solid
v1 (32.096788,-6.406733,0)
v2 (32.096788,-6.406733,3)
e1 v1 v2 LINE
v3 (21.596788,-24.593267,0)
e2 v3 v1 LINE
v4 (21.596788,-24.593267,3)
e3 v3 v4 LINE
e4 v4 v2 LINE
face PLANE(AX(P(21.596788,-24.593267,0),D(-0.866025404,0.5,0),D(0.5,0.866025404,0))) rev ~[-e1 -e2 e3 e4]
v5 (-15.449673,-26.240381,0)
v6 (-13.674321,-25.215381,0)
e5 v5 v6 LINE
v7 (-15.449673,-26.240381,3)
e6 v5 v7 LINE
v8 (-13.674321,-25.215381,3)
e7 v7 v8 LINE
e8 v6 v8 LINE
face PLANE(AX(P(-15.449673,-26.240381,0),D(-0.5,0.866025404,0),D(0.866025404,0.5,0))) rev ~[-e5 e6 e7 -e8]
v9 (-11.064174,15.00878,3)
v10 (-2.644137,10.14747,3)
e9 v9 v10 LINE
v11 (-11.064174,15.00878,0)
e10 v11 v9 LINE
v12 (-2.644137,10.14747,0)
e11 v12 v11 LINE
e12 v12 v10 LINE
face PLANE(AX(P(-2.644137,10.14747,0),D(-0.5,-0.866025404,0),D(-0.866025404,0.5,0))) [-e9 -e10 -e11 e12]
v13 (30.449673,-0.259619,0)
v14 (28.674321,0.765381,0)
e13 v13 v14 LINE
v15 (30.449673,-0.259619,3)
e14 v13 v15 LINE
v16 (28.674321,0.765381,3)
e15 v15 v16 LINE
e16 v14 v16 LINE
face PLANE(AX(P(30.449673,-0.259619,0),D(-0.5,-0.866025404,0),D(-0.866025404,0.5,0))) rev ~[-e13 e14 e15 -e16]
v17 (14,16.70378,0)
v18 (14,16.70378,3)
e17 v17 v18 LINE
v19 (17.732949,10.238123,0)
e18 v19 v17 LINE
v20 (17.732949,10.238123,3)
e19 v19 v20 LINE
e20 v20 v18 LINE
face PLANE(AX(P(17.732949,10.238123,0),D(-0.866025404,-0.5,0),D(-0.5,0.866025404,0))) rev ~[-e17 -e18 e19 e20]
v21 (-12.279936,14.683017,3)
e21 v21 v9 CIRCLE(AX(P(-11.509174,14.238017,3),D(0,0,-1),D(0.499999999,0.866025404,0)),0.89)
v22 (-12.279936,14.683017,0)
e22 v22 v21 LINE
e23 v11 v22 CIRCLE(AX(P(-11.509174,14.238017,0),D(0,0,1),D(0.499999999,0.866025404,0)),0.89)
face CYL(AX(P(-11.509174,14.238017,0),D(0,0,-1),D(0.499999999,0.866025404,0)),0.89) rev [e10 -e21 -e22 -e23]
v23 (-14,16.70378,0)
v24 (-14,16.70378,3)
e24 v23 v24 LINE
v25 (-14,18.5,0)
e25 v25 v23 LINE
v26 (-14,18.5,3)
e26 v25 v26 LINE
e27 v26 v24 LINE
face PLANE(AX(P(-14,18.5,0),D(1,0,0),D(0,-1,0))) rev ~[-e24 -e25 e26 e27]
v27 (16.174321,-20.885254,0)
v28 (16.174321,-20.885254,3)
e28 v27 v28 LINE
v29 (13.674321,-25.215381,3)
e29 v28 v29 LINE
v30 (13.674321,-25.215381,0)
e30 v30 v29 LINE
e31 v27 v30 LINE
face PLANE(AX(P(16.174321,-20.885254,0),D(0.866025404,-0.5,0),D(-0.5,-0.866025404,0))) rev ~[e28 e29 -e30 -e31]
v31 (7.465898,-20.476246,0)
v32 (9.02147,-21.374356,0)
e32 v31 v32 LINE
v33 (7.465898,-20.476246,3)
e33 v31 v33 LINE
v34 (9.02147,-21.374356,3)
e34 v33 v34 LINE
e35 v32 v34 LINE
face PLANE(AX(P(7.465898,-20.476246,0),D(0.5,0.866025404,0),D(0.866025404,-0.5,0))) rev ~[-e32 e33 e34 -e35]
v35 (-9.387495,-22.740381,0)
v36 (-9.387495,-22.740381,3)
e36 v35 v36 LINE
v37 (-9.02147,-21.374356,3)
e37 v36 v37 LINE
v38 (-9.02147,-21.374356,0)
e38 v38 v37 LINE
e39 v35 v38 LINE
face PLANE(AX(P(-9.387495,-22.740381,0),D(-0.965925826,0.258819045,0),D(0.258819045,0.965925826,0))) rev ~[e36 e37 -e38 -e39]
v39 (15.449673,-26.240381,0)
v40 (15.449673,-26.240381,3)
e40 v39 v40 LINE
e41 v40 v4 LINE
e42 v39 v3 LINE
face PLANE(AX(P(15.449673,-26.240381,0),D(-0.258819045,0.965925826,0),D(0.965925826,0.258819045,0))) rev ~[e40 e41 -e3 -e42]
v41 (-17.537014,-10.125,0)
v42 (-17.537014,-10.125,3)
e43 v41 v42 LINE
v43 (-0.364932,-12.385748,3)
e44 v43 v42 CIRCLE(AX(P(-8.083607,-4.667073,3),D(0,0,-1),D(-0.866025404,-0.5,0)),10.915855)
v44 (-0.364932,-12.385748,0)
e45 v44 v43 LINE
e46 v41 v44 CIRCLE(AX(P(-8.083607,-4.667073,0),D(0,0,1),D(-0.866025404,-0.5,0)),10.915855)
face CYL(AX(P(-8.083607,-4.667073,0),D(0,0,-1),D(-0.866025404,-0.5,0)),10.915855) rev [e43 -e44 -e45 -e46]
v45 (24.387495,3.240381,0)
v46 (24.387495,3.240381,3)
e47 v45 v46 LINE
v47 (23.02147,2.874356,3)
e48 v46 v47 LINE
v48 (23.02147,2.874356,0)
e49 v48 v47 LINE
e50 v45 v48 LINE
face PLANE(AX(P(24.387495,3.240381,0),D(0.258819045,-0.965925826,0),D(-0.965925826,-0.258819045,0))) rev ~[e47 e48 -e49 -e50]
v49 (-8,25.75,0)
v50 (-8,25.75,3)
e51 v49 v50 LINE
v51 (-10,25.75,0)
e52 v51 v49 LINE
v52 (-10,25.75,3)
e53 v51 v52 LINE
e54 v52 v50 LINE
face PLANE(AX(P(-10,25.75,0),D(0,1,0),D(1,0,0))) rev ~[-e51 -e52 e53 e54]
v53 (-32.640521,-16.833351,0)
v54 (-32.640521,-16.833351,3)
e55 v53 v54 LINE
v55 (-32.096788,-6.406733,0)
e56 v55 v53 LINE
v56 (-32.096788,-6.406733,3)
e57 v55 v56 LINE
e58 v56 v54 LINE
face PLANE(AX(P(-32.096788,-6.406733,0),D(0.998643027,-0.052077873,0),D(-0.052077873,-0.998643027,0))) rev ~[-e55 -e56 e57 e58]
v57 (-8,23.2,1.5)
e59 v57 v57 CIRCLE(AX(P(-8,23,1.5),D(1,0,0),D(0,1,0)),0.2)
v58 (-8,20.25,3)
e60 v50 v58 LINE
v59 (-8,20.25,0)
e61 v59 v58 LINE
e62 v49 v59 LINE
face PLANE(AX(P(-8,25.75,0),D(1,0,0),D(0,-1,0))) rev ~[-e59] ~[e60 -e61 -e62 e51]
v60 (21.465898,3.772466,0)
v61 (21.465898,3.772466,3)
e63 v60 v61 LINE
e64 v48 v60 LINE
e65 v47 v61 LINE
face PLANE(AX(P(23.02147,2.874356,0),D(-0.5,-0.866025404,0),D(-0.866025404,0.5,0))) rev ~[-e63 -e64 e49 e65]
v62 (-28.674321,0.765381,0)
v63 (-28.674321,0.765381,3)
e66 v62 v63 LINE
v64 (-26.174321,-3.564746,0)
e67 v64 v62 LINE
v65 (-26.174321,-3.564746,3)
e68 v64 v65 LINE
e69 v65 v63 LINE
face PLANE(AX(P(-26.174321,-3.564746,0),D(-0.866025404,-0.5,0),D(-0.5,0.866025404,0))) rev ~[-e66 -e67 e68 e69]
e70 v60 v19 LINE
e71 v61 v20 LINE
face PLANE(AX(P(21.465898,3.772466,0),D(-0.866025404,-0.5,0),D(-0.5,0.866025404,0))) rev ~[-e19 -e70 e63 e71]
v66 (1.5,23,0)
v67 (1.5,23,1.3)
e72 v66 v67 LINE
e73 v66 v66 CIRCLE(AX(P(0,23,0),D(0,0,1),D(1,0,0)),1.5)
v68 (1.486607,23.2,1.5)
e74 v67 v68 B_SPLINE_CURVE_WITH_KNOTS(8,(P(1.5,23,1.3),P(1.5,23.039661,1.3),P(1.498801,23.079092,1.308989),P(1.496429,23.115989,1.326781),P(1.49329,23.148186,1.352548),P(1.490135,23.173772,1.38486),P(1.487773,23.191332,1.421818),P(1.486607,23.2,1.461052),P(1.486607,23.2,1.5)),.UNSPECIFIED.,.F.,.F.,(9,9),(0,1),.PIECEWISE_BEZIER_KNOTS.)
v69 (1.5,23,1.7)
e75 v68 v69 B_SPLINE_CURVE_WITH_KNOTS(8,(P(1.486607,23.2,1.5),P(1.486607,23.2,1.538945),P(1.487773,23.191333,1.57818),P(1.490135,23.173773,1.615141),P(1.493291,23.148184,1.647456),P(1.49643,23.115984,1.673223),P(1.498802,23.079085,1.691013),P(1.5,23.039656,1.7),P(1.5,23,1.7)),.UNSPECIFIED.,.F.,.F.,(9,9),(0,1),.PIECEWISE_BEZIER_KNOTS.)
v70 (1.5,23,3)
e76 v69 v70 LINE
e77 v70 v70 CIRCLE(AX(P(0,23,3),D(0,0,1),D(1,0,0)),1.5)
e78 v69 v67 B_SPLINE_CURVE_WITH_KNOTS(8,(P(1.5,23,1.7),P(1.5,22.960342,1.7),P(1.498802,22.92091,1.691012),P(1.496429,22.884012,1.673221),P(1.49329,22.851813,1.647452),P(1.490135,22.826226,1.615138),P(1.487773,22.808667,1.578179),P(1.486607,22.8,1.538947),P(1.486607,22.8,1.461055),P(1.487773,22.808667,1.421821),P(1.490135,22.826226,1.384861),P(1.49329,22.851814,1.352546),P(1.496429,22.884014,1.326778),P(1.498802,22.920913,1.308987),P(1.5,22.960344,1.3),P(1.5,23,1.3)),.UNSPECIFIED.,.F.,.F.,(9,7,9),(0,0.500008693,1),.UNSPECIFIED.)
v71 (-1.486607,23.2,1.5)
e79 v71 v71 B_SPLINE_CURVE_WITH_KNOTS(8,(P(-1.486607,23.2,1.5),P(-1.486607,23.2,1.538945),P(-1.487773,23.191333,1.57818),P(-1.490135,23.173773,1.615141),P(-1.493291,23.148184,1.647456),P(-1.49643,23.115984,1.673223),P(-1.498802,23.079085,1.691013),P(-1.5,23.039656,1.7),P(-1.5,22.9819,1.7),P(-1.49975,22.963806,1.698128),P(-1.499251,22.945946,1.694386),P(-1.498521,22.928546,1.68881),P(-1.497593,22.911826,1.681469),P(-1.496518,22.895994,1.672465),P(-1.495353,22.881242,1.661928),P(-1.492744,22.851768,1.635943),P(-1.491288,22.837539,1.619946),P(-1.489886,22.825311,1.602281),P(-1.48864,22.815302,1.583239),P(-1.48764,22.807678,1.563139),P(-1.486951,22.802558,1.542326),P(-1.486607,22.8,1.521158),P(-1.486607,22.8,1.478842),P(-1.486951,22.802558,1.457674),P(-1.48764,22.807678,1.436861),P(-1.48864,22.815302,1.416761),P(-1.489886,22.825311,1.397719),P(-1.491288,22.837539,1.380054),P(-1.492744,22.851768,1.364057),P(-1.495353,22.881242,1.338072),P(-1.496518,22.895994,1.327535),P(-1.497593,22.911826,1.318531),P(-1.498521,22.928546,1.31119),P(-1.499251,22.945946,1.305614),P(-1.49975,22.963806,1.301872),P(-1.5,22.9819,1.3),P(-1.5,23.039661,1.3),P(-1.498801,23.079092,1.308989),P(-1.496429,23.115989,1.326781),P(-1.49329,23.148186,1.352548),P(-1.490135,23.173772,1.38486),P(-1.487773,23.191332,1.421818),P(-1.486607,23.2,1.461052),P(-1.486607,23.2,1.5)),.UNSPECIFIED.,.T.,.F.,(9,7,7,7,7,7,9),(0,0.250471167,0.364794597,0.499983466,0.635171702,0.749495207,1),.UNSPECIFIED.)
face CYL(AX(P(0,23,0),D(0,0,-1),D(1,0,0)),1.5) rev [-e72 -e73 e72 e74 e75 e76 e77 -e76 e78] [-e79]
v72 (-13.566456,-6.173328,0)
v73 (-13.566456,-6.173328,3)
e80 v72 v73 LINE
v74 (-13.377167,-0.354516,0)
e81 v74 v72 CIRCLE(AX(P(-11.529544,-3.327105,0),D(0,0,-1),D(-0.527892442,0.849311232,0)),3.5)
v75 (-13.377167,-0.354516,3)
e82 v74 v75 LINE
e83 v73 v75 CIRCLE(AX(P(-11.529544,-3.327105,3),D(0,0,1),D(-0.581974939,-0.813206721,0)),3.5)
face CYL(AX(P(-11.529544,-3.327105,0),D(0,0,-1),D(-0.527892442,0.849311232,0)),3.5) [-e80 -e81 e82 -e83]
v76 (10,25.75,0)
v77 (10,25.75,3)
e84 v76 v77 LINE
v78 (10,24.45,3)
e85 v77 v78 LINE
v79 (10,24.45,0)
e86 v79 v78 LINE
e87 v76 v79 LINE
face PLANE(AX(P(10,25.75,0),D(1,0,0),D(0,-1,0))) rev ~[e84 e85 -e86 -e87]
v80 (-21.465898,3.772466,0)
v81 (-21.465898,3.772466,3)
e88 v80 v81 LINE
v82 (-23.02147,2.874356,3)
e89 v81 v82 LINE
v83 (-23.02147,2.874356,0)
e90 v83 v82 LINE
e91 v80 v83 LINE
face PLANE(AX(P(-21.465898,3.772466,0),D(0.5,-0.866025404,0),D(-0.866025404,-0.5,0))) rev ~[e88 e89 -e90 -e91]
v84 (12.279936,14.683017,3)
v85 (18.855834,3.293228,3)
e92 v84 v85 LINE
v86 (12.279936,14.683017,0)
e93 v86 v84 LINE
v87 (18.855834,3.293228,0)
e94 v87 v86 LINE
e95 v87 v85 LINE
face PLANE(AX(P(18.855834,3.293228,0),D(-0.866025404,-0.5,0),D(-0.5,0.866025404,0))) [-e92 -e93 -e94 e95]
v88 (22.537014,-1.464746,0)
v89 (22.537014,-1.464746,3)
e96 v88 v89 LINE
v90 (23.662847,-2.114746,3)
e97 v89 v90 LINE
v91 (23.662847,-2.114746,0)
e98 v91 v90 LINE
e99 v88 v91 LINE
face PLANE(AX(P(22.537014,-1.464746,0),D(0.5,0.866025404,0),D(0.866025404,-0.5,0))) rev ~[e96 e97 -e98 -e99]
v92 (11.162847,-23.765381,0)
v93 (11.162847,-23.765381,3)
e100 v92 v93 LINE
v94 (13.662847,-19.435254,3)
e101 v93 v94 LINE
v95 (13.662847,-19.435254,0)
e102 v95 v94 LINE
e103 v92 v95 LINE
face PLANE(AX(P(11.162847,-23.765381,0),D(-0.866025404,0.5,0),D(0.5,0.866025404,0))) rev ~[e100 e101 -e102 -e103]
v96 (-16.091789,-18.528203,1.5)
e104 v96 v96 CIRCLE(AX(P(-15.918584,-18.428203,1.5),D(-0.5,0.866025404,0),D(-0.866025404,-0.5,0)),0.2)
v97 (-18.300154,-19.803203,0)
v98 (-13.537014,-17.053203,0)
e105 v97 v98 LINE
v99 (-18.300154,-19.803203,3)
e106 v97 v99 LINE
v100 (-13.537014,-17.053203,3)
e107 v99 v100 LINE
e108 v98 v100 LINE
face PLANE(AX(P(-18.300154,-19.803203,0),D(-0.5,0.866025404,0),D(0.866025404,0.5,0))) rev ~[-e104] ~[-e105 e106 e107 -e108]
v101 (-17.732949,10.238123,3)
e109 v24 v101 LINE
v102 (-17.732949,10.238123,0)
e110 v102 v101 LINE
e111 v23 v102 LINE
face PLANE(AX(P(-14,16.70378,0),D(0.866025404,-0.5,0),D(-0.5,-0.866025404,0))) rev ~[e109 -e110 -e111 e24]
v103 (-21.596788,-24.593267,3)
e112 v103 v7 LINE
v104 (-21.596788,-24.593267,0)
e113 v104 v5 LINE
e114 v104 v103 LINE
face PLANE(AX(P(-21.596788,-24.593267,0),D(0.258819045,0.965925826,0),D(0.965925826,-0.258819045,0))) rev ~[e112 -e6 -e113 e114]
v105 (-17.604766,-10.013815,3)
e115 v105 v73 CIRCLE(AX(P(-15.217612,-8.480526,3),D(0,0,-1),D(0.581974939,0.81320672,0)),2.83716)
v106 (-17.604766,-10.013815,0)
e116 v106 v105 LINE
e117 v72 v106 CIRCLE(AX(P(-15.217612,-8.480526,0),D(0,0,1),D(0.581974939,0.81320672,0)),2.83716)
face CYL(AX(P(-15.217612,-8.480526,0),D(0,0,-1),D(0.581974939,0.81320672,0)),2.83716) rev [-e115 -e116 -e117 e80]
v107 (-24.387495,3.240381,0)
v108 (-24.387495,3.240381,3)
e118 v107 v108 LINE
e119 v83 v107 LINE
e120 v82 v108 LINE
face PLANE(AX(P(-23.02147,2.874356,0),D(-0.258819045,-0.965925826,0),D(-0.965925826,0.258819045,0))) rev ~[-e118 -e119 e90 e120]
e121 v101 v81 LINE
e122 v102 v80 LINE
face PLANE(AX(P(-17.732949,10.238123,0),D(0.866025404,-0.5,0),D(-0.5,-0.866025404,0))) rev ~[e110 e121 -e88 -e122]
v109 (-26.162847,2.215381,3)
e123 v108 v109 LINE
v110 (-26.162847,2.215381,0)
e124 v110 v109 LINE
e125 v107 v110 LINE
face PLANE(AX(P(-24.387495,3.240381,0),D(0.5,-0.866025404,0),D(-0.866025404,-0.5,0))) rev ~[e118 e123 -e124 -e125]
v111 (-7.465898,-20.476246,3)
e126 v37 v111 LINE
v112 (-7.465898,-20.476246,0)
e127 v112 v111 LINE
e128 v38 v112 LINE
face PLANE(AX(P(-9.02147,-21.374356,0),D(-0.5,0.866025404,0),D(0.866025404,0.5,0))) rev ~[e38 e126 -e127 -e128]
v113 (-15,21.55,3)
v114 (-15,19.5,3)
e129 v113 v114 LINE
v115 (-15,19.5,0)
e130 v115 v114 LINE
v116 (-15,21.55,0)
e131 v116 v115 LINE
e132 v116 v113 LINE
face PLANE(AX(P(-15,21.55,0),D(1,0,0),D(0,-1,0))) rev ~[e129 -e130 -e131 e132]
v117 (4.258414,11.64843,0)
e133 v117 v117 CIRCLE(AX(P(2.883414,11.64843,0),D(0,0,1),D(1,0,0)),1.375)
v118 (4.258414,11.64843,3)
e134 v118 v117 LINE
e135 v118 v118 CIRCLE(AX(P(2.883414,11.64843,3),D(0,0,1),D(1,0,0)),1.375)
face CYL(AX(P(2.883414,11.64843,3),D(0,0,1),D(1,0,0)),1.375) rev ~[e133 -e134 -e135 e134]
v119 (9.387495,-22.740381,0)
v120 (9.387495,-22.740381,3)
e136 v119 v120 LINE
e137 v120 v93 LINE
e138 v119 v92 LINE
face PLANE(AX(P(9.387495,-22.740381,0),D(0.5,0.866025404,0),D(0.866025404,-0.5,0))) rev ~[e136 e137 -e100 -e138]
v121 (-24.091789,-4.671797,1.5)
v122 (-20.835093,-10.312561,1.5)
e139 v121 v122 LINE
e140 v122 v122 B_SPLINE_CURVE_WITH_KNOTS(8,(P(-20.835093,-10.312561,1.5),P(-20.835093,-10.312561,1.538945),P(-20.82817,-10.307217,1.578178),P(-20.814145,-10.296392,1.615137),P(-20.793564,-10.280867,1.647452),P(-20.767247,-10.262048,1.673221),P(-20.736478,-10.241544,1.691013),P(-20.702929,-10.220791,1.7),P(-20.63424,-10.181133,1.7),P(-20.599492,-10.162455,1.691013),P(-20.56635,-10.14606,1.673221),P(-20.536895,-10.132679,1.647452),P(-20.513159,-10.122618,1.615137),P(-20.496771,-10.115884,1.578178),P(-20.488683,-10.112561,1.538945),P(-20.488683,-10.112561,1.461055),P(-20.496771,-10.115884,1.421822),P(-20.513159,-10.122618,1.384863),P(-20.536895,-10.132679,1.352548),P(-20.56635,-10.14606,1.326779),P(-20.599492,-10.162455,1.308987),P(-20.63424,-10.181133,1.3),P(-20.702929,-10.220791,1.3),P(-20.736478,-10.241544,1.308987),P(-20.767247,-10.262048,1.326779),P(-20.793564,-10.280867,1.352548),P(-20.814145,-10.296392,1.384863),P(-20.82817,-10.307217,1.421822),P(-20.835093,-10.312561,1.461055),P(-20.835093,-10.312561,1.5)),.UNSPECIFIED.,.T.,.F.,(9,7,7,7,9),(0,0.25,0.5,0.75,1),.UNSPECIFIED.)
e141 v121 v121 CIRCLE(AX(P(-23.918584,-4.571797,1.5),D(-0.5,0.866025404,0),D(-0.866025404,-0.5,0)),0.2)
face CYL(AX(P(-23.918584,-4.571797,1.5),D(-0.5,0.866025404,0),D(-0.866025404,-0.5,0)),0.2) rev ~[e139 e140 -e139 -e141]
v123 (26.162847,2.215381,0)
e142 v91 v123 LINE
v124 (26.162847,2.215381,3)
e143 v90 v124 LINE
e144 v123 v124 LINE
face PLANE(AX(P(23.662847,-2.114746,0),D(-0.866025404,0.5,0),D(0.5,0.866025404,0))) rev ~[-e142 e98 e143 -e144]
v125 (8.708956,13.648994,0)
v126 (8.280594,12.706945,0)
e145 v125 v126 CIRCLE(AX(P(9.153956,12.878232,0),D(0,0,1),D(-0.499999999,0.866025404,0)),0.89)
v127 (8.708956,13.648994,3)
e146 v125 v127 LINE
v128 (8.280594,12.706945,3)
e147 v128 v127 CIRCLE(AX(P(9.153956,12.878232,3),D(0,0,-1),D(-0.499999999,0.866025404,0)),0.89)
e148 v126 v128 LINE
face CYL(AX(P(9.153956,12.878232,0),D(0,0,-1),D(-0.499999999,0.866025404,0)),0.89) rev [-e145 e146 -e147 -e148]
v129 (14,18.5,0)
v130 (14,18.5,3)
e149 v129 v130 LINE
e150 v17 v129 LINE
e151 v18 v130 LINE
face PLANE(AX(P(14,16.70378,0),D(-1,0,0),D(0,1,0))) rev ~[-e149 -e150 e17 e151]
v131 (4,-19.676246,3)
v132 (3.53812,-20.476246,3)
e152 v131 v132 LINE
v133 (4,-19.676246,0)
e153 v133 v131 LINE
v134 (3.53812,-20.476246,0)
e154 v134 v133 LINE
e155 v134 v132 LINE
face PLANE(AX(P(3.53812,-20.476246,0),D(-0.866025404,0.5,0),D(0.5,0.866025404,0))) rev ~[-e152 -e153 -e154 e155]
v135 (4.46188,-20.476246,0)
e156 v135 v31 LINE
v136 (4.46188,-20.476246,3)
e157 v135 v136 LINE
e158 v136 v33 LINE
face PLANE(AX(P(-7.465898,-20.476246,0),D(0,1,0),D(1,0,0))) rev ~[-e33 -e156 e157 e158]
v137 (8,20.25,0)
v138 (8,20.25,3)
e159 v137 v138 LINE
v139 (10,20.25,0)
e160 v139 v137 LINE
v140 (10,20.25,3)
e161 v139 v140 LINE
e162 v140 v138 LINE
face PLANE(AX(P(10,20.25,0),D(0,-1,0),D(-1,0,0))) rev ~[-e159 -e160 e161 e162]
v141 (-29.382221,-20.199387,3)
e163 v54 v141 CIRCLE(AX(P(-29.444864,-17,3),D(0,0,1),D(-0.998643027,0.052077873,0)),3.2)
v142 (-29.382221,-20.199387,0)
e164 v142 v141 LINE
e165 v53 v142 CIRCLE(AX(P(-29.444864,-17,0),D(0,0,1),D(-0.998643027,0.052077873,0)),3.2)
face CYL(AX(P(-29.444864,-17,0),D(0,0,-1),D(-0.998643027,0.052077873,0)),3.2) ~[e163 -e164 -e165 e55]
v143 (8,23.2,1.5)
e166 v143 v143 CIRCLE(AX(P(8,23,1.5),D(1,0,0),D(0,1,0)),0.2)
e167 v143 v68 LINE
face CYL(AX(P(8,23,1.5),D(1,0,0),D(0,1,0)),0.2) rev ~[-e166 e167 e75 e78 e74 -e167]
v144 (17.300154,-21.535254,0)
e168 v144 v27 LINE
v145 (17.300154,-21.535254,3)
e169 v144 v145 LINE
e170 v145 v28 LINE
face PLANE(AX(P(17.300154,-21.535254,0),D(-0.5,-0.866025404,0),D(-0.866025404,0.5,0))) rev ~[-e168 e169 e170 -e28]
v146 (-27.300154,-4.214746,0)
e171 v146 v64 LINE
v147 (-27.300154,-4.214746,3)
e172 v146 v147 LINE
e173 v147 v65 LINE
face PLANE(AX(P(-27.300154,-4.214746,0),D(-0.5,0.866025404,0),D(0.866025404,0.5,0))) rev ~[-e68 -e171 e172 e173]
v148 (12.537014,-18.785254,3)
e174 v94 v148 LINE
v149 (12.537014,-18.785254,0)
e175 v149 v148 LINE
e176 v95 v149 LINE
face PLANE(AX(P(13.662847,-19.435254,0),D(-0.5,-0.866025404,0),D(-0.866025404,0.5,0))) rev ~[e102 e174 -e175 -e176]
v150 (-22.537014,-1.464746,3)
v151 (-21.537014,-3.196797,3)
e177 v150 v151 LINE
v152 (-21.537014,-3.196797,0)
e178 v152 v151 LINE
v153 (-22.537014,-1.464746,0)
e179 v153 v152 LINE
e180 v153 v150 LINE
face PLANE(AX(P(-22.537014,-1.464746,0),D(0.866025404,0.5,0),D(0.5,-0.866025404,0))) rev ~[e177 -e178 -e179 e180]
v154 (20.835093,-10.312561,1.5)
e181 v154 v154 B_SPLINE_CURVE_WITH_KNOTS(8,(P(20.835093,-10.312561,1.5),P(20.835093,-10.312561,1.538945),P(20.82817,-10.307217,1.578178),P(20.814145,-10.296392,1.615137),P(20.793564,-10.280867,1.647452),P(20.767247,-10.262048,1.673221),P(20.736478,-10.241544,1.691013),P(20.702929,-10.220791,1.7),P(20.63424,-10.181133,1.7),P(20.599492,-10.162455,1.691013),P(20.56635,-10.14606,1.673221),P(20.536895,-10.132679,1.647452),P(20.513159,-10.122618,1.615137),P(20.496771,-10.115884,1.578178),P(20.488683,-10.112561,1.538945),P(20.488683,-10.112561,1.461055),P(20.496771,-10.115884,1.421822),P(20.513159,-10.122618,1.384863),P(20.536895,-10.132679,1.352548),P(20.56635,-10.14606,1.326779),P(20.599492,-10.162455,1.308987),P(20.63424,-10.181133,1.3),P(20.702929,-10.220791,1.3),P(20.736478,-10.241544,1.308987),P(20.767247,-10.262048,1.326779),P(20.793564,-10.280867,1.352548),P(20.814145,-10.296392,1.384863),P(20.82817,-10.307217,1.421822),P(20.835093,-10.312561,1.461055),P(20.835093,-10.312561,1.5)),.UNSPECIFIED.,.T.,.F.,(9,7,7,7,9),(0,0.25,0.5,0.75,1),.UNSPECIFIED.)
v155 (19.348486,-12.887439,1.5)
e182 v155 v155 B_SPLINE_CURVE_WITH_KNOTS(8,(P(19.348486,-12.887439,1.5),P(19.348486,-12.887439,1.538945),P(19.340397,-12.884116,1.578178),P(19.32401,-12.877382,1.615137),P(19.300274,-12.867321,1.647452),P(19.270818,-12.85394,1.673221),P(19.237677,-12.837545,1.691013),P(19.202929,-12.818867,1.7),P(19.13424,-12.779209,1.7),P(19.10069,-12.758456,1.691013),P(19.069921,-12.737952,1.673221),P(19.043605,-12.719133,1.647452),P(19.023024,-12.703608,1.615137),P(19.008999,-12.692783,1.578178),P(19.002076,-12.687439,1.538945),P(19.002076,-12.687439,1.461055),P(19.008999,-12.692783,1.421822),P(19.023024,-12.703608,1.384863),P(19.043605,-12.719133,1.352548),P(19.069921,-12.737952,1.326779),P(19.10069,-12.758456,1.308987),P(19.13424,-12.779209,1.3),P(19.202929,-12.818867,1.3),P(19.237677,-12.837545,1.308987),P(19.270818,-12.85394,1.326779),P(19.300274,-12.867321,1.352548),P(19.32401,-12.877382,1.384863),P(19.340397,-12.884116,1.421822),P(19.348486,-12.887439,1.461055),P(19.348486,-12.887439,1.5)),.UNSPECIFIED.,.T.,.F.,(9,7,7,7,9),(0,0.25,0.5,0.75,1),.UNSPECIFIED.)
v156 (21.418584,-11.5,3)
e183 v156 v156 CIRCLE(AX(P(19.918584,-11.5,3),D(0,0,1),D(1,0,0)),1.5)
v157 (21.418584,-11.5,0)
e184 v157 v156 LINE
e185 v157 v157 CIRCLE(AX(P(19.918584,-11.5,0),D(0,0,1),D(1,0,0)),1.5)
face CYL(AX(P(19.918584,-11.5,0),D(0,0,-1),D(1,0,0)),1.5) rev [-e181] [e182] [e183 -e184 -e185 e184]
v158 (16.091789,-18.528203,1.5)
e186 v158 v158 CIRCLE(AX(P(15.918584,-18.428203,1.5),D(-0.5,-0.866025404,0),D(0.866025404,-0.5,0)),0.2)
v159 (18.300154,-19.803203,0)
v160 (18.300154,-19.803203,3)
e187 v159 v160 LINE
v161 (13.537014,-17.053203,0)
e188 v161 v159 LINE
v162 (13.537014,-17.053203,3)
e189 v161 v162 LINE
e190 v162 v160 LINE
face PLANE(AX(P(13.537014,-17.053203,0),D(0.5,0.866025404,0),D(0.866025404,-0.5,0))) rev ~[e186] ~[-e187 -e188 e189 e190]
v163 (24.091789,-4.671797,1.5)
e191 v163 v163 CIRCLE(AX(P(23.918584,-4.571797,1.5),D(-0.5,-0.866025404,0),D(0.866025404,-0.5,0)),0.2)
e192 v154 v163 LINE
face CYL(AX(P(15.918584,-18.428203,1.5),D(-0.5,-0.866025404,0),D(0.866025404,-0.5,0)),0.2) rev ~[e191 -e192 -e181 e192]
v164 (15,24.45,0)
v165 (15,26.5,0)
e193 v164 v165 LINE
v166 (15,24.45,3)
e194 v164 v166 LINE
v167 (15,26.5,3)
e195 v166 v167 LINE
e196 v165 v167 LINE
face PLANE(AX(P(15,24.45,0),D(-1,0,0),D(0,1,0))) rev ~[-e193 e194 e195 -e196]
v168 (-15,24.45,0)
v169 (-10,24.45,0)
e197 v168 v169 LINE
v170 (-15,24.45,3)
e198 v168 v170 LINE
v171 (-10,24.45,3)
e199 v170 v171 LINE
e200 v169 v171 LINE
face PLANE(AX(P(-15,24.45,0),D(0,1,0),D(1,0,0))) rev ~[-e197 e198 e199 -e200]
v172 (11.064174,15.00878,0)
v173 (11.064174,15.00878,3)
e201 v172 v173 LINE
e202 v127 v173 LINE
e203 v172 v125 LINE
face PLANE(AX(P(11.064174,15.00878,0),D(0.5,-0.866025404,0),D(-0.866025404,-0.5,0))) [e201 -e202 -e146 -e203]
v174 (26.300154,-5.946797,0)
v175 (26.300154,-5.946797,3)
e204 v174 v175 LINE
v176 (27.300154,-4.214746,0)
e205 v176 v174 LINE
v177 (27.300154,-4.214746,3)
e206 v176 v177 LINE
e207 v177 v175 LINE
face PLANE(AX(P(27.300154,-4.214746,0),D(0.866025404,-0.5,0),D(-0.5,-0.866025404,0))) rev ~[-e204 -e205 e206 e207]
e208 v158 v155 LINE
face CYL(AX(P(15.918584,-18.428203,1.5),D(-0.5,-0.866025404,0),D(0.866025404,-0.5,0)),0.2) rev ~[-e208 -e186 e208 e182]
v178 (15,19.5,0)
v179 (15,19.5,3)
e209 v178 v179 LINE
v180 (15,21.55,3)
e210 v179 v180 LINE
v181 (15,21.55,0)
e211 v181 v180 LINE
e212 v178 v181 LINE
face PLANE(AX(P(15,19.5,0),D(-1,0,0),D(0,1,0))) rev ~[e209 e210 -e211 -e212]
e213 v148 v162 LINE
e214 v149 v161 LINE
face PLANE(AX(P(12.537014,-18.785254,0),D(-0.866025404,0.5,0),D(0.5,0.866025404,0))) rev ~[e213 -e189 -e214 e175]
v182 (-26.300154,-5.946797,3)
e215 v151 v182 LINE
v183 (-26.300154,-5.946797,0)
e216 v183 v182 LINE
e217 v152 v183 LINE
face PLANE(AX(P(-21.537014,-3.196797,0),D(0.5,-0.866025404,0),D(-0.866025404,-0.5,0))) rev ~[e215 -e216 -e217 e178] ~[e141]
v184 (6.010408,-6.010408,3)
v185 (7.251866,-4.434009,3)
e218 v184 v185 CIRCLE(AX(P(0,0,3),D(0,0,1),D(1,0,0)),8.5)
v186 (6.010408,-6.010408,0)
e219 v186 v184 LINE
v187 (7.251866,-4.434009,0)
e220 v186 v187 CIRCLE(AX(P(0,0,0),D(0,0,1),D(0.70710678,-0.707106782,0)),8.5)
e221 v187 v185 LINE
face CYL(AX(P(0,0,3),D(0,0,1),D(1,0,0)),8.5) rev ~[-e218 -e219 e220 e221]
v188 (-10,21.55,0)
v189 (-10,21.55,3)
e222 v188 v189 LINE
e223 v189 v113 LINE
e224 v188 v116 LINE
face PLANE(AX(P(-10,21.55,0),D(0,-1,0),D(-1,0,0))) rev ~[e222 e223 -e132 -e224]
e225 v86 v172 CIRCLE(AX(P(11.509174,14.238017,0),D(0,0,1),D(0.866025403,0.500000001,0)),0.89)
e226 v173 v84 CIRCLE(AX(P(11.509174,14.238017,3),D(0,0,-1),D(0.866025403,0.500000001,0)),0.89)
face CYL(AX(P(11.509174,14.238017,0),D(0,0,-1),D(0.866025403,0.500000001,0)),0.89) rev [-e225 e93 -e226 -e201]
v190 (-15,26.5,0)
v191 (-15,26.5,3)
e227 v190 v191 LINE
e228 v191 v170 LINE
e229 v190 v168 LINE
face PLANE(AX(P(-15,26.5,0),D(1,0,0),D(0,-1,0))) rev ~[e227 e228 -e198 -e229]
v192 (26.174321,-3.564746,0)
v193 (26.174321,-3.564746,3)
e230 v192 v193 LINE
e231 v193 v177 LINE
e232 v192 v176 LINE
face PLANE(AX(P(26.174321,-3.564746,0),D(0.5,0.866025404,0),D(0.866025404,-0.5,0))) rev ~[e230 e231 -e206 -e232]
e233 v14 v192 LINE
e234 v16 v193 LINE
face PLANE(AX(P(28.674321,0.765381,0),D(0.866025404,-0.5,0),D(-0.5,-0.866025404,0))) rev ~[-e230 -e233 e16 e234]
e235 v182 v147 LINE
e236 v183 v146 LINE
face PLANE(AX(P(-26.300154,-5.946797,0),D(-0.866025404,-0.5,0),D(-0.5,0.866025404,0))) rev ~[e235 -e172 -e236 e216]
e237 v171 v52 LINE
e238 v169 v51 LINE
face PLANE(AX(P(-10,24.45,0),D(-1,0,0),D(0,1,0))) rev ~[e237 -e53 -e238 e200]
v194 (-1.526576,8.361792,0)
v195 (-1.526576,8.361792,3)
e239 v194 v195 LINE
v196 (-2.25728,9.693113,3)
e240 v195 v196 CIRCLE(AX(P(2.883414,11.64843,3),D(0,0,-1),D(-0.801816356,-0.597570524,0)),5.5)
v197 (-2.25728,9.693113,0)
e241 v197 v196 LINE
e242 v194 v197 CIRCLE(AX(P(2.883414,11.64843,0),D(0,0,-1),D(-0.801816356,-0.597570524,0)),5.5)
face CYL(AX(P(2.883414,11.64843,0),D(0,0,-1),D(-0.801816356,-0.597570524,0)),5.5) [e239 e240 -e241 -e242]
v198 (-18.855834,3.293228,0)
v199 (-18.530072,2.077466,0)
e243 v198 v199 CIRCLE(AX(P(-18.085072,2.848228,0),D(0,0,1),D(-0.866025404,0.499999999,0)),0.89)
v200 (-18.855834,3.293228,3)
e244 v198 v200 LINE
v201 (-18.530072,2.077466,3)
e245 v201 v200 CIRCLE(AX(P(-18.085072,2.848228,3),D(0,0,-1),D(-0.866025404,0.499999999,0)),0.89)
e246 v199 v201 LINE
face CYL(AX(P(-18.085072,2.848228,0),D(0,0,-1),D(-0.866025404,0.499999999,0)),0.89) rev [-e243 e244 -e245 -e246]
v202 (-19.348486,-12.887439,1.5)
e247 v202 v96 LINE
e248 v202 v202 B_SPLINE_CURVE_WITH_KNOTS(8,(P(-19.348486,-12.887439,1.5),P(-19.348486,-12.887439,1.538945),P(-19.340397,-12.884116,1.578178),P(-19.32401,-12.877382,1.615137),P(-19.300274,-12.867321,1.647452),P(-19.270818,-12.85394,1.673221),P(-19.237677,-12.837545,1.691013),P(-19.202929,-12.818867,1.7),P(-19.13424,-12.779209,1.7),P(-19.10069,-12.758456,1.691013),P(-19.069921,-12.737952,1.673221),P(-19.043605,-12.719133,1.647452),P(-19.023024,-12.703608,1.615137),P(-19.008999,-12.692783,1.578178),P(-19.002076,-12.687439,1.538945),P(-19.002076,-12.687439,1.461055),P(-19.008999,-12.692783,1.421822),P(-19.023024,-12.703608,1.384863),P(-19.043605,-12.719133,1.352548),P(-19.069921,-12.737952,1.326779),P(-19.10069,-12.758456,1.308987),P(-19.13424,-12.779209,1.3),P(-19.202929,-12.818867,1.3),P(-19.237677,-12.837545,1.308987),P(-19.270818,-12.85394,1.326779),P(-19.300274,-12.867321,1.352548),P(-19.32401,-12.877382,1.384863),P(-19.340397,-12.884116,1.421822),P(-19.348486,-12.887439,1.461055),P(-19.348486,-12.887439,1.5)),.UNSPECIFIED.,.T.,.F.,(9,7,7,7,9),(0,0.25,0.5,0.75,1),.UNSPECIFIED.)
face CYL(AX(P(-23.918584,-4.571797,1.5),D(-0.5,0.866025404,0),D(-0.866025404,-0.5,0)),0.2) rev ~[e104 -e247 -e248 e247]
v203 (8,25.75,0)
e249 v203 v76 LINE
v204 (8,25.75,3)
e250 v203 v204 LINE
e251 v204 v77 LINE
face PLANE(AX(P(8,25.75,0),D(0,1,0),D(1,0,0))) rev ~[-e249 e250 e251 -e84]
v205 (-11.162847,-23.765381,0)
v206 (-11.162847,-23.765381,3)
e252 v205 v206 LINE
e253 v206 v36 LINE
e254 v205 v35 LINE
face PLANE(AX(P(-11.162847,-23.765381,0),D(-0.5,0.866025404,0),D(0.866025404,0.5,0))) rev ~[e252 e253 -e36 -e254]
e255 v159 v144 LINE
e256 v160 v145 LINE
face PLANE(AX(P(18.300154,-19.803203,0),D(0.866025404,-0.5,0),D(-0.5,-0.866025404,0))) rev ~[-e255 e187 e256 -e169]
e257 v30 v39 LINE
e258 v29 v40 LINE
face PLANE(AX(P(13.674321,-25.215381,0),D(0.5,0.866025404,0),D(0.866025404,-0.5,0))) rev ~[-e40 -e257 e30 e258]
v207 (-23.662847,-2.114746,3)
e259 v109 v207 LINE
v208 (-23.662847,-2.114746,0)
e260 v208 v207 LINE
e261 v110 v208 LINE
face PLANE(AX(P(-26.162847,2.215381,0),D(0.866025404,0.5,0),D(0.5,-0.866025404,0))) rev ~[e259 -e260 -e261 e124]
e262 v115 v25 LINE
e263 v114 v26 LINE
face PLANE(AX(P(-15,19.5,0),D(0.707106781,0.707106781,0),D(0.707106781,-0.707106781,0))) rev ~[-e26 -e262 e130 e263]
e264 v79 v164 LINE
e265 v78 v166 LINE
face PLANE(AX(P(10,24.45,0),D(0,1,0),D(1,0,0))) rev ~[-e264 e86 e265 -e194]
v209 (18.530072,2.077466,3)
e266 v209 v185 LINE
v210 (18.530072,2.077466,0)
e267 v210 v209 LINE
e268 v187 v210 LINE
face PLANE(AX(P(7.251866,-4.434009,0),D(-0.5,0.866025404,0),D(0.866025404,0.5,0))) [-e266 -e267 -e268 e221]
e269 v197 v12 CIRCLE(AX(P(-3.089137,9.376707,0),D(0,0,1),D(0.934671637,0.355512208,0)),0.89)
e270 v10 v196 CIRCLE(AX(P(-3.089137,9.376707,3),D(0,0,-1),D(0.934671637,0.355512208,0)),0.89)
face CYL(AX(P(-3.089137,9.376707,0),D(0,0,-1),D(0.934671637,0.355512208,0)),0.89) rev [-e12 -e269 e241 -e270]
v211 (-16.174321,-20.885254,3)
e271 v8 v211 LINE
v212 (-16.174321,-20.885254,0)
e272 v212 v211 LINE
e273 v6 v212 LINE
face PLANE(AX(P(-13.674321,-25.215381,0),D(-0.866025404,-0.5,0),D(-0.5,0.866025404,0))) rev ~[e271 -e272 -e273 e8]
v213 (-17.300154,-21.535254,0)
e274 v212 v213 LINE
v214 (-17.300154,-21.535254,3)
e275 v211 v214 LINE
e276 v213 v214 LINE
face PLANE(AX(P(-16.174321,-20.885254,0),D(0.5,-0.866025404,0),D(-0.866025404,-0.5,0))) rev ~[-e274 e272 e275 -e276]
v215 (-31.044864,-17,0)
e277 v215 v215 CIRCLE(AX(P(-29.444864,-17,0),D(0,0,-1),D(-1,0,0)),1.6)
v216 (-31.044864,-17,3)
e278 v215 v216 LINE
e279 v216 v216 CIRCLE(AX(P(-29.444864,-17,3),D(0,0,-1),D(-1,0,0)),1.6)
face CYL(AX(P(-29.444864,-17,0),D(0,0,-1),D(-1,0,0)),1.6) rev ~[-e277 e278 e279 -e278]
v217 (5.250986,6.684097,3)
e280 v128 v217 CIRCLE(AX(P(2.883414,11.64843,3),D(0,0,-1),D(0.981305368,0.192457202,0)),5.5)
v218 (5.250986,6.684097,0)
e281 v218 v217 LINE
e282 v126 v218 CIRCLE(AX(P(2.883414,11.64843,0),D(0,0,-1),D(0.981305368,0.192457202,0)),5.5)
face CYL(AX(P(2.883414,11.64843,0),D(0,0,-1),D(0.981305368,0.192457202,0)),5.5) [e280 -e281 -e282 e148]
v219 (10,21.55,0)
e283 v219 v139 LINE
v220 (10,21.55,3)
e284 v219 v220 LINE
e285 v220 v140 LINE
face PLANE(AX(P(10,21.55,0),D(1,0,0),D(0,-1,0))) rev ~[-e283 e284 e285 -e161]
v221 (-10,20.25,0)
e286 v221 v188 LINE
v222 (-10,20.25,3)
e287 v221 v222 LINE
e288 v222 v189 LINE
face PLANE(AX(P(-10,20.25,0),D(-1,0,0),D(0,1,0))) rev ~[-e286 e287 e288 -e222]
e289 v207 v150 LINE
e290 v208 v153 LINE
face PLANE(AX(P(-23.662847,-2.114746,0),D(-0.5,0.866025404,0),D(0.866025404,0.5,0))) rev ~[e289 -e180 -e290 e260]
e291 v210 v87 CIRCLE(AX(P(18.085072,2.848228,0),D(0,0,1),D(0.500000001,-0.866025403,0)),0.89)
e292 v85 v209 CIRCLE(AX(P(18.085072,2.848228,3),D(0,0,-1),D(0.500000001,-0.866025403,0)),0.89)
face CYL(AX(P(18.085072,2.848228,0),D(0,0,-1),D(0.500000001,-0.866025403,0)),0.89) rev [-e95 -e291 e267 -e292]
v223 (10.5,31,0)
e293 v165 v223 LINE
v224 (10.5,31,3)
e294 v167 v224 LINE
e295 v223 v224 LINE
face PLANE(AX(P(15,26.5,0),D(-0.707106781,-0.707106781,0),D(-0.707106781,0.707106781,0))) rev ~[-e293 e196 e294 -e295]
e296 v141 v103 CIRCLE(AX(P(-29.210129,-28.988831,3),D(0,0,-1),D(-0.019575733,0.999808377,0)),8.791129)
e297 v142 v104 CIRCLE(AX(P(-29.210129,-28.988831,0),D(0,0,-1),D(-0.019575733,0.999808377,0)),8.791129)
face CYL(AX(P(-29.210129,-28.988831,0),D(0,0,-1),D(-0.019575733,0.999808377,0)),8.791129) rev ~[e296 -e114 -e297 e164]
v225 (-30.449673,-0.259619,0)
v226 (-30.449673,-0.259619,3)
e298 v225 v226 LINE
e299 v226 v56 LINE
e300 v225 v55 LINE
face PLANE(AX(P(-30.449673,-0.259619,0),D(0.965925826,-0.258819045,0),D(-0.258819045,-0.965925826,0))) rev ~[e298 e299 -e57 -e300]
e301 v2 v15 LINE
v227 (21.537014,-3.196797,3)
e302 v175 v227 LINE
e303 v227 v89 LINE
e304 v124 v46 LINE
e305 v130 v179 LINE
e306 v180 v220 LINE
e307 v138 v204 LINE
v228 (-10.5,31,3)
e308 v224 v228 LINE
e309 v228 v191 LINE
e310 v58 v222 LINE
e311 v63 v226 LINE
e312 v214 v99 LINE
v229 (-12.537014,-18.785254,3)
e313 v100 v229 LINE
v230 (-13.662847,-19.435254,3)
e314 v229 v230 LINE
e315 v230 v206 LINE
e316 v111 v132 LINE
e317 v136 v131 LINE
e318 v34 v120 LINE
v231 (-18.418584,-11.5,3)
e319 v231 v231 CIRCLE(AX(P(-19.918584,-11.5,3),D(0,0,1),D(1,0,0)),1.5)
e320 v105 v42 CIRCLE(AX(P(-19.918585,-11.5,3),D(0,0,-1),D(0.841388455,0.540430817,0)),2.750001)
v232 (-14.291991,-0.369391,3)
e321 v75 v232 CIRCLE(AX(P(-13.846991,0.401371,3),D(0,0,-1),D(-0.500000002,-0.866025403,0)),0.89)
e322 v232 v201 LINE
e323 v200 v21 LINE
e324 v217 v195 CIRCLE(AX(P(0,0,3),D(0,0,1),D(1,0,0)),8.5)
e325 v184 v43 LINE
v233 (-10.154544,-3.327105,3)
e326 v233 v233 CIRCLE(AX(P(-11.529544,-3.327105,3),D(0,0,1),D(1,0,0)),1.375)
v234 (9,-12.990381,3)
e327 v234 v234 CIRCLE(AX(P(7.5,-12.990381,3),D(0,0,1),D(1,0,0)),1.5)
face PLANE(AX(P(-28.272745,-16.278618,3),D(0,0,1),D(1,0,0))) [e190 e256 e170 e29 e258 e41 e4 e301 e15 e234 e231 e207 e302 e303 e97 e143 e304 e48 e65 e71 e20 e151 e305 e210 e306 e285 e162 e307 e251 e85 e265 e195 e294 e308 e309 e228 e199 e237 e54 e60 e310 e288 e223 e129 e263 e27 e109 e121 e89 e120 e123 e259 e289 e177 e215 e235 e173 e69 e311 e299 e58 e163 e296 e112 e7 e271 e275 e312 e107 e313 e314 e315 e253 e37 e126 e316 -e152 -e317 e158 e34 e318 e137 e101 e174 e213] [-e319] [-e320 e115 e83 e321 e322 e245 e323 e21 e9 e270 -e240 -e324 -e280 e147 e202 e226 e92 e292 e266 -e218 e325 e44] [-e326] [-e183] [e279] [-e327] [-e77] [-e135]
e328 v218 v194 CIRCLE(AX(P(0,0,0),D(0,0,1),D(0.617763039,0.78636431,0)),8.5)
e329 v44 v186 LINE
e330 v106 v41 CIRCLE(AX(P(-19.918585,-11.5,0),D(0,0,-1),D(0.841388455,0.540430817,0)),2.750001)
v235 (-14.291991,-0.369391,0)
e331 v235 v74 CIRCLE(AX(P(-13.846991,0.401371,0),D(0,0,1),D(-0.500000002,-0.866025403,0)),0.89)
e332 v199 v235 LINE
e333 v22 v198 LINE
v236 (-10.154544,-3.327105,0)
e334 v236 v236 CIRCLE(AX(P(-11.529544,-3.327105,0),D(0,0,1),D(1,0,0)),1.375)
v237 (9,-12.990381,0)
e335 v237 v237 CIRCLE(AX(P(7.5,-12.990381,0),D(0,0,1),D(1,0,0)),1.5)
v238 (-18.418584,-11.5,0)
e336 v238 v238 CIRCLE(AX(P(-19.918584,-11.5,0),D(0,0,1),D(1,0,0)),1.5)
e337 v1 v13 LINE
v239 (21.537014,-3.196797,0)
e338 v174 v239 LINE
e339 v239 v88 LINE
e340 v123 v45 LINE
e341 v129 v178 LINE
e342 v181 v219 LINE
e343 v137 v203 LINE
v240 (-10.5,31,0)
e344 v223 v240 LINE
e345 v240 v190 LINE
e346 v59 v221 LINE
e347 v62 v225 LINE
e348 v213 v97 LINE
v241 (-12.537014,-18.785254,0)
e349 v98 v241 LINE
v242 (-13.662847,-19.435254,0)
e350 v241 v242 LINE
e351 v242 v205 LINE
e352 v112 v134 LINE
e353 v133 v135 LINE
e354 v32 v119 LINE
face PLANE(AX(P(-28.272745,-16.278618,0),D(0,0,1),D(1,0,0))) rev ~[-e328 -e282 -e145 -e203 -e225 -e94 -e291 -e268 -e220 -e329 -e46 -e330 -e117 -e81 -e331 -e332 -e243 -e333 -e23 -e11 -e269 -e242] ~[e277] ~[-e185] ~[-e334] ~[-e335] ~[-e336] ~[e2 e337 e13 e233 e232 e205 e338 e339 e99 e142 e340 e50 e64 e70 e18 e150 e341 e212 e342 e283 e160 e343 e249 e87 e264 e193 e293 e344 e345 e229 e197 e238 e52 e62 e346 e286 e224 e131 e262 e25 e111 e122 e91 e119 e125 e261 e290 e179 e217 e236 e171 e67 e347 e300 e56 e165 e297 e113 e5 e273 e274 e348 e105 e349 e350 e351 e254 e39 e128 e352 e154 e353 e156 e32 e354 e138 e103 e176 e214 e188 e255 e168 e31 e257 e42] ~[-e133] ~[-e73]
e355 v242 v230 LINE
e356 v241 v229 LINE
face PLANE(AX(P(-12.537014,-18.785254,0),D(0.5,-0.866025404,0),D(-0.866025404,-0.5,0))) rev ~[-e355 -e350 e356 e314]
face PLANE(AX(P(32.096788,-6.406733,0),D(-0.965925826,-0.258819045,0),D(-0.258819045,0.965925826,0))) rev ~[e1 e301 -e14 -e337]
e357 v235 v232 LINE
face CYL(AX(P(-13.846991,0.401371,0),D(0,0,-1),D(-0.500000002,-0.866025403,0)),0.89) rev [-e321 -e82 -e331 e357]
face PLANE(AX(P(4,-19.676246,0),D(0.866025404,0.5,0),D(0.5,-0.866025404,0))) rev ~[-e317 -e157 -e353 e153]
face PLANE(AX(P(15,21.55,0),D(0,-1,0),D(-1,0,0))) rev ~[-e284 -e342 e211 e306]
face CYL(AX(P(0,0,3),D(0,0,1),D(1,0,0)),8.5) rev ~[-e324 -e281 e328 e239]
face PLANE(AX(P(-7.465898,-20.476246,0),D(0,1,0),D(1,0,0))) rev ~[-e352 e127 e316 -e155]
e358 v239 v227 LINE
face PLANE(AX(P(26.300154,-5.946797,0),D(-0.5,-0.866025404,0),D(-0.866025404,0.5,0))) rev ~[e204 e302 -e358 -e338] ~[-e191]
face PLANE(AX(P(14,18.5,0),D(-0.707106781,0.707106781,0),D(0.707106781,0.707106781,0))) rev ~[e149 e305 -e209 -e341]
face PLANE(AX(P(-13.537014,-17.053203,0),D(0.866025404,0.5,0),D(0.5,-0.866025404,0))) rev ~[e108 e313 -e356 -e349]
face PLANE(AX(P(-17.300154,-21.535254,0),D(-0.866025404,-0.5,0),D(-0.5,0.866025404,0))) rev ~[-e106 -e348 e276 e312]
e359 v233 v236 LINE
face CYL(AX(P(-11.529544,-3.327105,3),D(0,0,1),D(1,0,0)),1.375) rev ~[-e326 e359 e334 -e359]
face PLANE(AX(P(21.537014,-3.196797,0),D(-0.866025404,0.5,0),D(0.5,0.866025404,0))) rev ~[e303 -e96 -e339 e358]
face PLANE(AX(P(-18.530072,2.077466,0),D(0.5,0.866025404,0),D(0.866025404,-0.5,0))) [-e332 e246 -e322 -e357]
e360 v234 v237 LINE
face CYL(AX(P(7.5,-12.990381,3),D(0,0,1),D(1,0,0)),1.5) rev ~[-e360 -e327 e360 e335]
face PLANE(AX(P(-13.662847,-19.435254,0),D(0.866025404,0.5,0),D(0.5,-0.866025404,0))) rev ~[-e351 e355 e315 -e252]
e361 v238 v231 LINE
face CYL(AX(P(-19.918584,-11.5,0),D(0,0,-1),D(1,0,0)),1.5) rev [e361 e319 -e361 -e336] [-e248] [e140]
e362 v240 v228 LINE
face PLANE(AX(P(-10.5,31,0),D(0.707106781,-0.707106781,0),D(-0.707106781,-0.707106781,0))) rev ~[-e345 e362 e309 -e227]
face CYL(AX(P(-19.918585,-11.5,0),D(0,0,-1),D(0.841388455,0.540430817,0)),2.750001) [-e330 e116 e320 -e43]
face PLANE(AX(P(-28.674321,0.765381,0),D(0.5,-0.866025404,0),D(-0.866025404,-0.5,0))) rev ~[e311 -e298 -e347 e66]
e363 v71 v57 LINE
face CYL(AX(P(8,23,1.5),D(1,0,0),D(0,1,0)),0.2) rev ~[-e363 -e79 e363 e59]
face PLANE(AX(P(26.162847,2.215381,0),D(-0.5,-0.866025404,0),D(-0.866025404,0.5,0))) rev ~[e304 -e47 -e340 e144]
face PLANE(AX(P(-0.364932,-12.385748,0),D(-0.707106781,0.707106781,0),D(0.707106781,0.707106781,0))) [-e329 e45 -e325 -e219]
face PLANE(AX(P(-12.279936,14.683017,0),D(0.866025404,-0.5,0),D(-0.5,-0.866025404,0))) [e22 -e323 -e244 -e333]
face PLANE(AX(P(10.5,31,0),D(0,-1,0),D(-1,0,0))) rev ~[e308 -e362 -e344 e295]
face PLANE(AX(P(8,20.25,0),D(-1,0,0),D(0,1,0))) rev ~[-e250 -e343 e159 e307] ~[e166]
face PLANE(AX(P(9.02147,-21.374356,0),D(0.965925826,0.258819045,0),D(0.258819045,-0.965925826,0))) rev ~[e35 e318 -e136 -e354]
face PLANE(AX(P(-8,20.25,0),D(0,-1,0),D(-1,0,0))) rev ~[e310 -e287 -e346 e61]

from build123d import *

# Parameters (mm, degrees)
SKETCH1_R           = 1.5
BOSS_EXTRUDE1_DEPTH = 3
SKETCH2_R           = 0.2
CUT_EXTRUDE1_DEPTH  = 51.771570482
CIRPATTERN1_COUNT   = 3
SKETCH3_R           = 8.5
CUT_EXTRUDE2_DEPTH  = 45.723637705
SKETCH4_R           = 1.5
SKETCH4_R_2         = 1.375
CUT_EXTRUDE3_DEPTH  = 45.723637705
CUT_EXTRUDE6_DEPTH  = 45.723637705
SKETCH10_R          = 1.6
BOSS_EXTRUDE3_DEPTH = 3
CUT_EXTRUDE7_DEPTH  = 46.118589611


with BuildPart() as part:
    # Sketch1 → Boss-Extrude1 (new body)
    with BuildSketch(Plane.XY):
        Polygon((8, 23), (8, 25.75), (10, 25.75), (10, 24.45), (15, 24.45), (15, 26.5), (10.5, 31), (-10.5, 31), (-15, 26.5), (-15, 24.45), (-10, 24.45), (-10, 25.75), (-8, 25.75), (-8, 23), (-8, 20.25), (-10, 20.25), (-10, 21.55), (-15, 21.55), (-15, 19.5), (-14, 18.5), (-14, 16.703779947), (-17.732948887, 10.238122813), (-21.465897773, 3.772465679), (-23.02146997, 2.874355653), (-24.387495374, 3.240381057), (-26.162847452, 2.215381057), (-23.662847452, -2.114745962), (-22.537014427, -1.464745962), (-21.537014427, -3.19679677), (-23.918584287, -4.57179677), (-26.300154147, -5.94679677), (-27.300154147, -4.214745962), (-26.174321123, -3.564745962), (-28.674321123, 0.765381057), (-30.4496732, -0.259618943), (-32.096787517, -6.40673326), (-21.596787517, -24.59326674), (-15.4496732, -26.240381057), (-13.674321123, -25.215381057), (-16.174321123, -20.885254038), (-17.300154147, -21.535254038), (-18.300154147, -19.80320323), (-15.918584287, -18.42820323), (-13.537014427, -17.05320323), (-12.537014427, -18.785254038), (-13.662847452, -19.435254038), (-11.162847452, -23.765381057), (-9.387495374, -22.740381057), (-9.02146997, -21.374355653), (-7.465897773, -20.476245627), (0, -20.476245627), (7.465897773, -20.476245627), (9.02146997, -21.374355653), (9.387495374, -22.740381057), (11.162847452, -23.765381057), (13.662847452, -19.435254038), (12.537014427, -18.785254038), (13.537014427, -17.05320323), (15.918584287, -18.42820323), (18.300154147, -19.80320323), (17.300154147, -21.535254038), (16.174321123, -20.885254038), (13.674321123, -25.215381057), (15.4496732, -26.240381057), (21.596787517, -24.59326674), (32.096787517, -6.40673326), (30.4496732, -0.259618943), (28.674321123, 0.765381057), (26.174321123, -3.564745962), (27.300154147, -4.214745962), (26.300154147, -5.94679677), (23.918584287, -4.57179677), (21.537014427, -3.19679677), (22.537014427, -1.464745962), (23.662847452, -2.114745962), (26.162847452, 2.215381057), (24.387495374, 3.240381057), (23.02146997, 2.874355653), (21.465897773, 3.772465679), (17.732948887, 10.238122813), (14, 16.703779947), (14, 18.5), (15, 19.5), (15, 21.55), (10, 21.55), (10, 20.25), (8, 20.25), align=None)
        with Locations((0, 23)):
            Circle(SKETCH1_R, mode=Mode.SUBTRACT)
        with Locations((19.918584287, -11.5)):
            Circle(SKETCH1_R, mode=Mode.SUBTRACT)
        with Locations((-19.918584287, -11.5)):
            Circle(SKETCH1_R, mode=Mode.SUBTRACT)
    extrude(amount=BOSS_EXTRUDE1_DEPTH)

    # Sketch2 → Cut-Extrude1 (cut, through all)
    with BuildSketch(Plane(origin=(8, 0, 0), x_dir=(0, 0, -1), z_dir=(1, 0, 0))):
        with Locations(Location((-1.5, 23, 0), (0, 0, 90))):
            Circle(SKETCH2_R)
    cut_extrude1 = extrude(amount=-CUT_EXTRUDE1_DEPTH, mode=Mode.SUBTRACT)

    # CirPattern1: Cut-Extrude1 ×3 about axis
    cirpattern1_axis = Axis((0, 0, -0.25), (0, 0, 1))
    for i in range(1, CIRPATTERN1_COUNT):
        add(cut_extrude1.rotate(cirpattern1_axis, i * 360 / CIRPATTERN1_COUNT), mode=Mode.SUBTRACT)

    # Sketch3 → Cut-Extrude2 (cut, through all)
    with BuildSketch(Plane.XY.offset(3)):
        Circle(SKETCH3_R)
    extrude(amount=-CUT_EXTRUDE2_DEPTH, mode=Mode.SUBTRACT)

    # Sketch4 → Cut-Extrude3 (cut, through all)
    with BuildSketch(Plane.XY.offset(3)):
        with Locations((7.5, -12.990381057)):
            Circle(SKETCH4_R)
        with Locations((-11.529543503, -3.327104841)):
            Circle(SKETCH4_R_2)
        with Locations((2.883414438, 11.648429988)):
            Circle(SKETCH4_R_2)
    extrude(amount=-CUT_EXTRUDE3_DEPTH, mode=Mode.SUBTRACT)

    # Sketch8 → Cut-Extrude6 (cut, through all)
    with BuildSketch(Plane(origin=(0, 0, 0), x_dir=(-1, 0, 0), z_dir=(0, 0, -1))):
        with BuildLine():
            Line((12.279936491, 14.683017338), (18.855834264, 3.293228289))
            ThreePointArc((18.855834264, 3.293228289), (18.94474564, 2.617879339), (18.530071655, 2.077465679))
            Line((18.530071655, 2.077465679), (14.291991324, -0.36939114))
            ThreePointArc((14.291991324, -0.36939114), (13.832521283, -0.488510893), (13.377167051, -0.354515528))
            ThreePointArc((13.377167051, -0.354515528), (8.03139394, -3.440901304), (13.566455789, -6.173328363))
            ThreePointArc((13.566455789, -6.173328363), (17.172799511, -6.424627154), (17.604766052, -10.013815228))
            ThreePointArc((17.604766052, -10.013815228), (17.57023213, -10.069006588), (17.537014427, -10.125))
            ThreePointArc((17.537014427, -10.125), (9.508411975, -15.48954065), (0.36493223, -12.38574751))
            Line((0.36493223, -12.38574751), (-6.01040764, -6.01040764))
            ThreePointArc((-6.01040764, -6.01040764), (-6.677816527, -5.258970093), (-7.251866025, -4.434009377))
            Line((-7.251866025, -4.434009377), (-18.530071655, 2.077465679))
            ThreePointArc((-18.530071655, 2.077465679), (-18.94474564, 2.617879339), (-18.855834264, 3.293228289))
            Line((-18.855834264, 3.293228289), (-12.279936491, 14.683017338))
            ThreePointArc((-12.279936491, 14.683017338), (-11.739522831, 15.097691323), (-11.064173881, 15.008779947))
            Line((-11.064173881, 15.008779947), (-8.70895574, 13.648994119))
            ThreePointArc((-8.70895574, 13.648994119), (-8.343780593, 13.24662835), (-8.280593962, 12.7069446))
            ThreePointArc((-8.280593962, 12.7069446), (-7.79681587, 9.176894763), (-5.250985835, 6.68409663))
            ThreePointArc((-5.250985835, 6.68409663), (-2.04241856, 8.250971241), (1.526575519, 8.361792104))
            ThreePointArc((1.526575519, 8.361792104), (1.938099301, 9.002110796), (2.257279563, 9.69311283))
            ThreePointArc((2.257279563, 9.69311283), (2.411493279, 9.95368058), (2.644137319, 10.147469572))
            Line((2.644137319, 10.147469572), (11.064173881, 15.008779947))
            ThreePointArc((11.064173881, 15.008779947), (11.739522831, 15.097691323), (12.279936491, 14.683017338))
        make_face()
    extrude(amount=-CUT_EXTRUDE6_DEPTH, mode=Mode.SUBTRACT)

    # Sketch10 → Boss-Extrude3 (add, through all)
    with BuildSketch(Plane(origin=(0, 0, 0), x_dir=(-1, 0, 0), z_dir=(0, 0, -1))):
        with BuildLine():
            Line((32.096787517, -6.40673326), (32.640521415, -16.833350806))
            ThreePointArc((32.640521415, -16.833350806), (31.744101835, -19.225646902), (29.382221383, -20.199386806))
            ThreePointArc((29.382221383, -20.199386806), (24.889296585, -21.332829657), (21.596787517, -24.59326674))
            Line((21.596787517, -24.59326674), (32.096787517, -6.40673326))
        make_face()
        with Locations((29.444863729, -17)):
            Circle(SKETCH10_R, mode=Mode.SUBTRACT)
    extrude(amount=-BOSS_EXTRUDE3_DEPTH)

    # Sketch11 → Cut-Extrude7 (cut, through all)
    with BuildSketch(Plane(origin=(0, 0, 0), x_dir=(-1, 0, 0), z_dir=(0, 0, -1))):
        Polygon((-4.461880215, -20.476245627), (-3.538119785, -20.476245627), (-4, -19.676245627), align=None)
    extrude(amount=-CUT_EXTRUDE7_DEPTH, mode=Mode.SUBTRACT)


solid = part.part
